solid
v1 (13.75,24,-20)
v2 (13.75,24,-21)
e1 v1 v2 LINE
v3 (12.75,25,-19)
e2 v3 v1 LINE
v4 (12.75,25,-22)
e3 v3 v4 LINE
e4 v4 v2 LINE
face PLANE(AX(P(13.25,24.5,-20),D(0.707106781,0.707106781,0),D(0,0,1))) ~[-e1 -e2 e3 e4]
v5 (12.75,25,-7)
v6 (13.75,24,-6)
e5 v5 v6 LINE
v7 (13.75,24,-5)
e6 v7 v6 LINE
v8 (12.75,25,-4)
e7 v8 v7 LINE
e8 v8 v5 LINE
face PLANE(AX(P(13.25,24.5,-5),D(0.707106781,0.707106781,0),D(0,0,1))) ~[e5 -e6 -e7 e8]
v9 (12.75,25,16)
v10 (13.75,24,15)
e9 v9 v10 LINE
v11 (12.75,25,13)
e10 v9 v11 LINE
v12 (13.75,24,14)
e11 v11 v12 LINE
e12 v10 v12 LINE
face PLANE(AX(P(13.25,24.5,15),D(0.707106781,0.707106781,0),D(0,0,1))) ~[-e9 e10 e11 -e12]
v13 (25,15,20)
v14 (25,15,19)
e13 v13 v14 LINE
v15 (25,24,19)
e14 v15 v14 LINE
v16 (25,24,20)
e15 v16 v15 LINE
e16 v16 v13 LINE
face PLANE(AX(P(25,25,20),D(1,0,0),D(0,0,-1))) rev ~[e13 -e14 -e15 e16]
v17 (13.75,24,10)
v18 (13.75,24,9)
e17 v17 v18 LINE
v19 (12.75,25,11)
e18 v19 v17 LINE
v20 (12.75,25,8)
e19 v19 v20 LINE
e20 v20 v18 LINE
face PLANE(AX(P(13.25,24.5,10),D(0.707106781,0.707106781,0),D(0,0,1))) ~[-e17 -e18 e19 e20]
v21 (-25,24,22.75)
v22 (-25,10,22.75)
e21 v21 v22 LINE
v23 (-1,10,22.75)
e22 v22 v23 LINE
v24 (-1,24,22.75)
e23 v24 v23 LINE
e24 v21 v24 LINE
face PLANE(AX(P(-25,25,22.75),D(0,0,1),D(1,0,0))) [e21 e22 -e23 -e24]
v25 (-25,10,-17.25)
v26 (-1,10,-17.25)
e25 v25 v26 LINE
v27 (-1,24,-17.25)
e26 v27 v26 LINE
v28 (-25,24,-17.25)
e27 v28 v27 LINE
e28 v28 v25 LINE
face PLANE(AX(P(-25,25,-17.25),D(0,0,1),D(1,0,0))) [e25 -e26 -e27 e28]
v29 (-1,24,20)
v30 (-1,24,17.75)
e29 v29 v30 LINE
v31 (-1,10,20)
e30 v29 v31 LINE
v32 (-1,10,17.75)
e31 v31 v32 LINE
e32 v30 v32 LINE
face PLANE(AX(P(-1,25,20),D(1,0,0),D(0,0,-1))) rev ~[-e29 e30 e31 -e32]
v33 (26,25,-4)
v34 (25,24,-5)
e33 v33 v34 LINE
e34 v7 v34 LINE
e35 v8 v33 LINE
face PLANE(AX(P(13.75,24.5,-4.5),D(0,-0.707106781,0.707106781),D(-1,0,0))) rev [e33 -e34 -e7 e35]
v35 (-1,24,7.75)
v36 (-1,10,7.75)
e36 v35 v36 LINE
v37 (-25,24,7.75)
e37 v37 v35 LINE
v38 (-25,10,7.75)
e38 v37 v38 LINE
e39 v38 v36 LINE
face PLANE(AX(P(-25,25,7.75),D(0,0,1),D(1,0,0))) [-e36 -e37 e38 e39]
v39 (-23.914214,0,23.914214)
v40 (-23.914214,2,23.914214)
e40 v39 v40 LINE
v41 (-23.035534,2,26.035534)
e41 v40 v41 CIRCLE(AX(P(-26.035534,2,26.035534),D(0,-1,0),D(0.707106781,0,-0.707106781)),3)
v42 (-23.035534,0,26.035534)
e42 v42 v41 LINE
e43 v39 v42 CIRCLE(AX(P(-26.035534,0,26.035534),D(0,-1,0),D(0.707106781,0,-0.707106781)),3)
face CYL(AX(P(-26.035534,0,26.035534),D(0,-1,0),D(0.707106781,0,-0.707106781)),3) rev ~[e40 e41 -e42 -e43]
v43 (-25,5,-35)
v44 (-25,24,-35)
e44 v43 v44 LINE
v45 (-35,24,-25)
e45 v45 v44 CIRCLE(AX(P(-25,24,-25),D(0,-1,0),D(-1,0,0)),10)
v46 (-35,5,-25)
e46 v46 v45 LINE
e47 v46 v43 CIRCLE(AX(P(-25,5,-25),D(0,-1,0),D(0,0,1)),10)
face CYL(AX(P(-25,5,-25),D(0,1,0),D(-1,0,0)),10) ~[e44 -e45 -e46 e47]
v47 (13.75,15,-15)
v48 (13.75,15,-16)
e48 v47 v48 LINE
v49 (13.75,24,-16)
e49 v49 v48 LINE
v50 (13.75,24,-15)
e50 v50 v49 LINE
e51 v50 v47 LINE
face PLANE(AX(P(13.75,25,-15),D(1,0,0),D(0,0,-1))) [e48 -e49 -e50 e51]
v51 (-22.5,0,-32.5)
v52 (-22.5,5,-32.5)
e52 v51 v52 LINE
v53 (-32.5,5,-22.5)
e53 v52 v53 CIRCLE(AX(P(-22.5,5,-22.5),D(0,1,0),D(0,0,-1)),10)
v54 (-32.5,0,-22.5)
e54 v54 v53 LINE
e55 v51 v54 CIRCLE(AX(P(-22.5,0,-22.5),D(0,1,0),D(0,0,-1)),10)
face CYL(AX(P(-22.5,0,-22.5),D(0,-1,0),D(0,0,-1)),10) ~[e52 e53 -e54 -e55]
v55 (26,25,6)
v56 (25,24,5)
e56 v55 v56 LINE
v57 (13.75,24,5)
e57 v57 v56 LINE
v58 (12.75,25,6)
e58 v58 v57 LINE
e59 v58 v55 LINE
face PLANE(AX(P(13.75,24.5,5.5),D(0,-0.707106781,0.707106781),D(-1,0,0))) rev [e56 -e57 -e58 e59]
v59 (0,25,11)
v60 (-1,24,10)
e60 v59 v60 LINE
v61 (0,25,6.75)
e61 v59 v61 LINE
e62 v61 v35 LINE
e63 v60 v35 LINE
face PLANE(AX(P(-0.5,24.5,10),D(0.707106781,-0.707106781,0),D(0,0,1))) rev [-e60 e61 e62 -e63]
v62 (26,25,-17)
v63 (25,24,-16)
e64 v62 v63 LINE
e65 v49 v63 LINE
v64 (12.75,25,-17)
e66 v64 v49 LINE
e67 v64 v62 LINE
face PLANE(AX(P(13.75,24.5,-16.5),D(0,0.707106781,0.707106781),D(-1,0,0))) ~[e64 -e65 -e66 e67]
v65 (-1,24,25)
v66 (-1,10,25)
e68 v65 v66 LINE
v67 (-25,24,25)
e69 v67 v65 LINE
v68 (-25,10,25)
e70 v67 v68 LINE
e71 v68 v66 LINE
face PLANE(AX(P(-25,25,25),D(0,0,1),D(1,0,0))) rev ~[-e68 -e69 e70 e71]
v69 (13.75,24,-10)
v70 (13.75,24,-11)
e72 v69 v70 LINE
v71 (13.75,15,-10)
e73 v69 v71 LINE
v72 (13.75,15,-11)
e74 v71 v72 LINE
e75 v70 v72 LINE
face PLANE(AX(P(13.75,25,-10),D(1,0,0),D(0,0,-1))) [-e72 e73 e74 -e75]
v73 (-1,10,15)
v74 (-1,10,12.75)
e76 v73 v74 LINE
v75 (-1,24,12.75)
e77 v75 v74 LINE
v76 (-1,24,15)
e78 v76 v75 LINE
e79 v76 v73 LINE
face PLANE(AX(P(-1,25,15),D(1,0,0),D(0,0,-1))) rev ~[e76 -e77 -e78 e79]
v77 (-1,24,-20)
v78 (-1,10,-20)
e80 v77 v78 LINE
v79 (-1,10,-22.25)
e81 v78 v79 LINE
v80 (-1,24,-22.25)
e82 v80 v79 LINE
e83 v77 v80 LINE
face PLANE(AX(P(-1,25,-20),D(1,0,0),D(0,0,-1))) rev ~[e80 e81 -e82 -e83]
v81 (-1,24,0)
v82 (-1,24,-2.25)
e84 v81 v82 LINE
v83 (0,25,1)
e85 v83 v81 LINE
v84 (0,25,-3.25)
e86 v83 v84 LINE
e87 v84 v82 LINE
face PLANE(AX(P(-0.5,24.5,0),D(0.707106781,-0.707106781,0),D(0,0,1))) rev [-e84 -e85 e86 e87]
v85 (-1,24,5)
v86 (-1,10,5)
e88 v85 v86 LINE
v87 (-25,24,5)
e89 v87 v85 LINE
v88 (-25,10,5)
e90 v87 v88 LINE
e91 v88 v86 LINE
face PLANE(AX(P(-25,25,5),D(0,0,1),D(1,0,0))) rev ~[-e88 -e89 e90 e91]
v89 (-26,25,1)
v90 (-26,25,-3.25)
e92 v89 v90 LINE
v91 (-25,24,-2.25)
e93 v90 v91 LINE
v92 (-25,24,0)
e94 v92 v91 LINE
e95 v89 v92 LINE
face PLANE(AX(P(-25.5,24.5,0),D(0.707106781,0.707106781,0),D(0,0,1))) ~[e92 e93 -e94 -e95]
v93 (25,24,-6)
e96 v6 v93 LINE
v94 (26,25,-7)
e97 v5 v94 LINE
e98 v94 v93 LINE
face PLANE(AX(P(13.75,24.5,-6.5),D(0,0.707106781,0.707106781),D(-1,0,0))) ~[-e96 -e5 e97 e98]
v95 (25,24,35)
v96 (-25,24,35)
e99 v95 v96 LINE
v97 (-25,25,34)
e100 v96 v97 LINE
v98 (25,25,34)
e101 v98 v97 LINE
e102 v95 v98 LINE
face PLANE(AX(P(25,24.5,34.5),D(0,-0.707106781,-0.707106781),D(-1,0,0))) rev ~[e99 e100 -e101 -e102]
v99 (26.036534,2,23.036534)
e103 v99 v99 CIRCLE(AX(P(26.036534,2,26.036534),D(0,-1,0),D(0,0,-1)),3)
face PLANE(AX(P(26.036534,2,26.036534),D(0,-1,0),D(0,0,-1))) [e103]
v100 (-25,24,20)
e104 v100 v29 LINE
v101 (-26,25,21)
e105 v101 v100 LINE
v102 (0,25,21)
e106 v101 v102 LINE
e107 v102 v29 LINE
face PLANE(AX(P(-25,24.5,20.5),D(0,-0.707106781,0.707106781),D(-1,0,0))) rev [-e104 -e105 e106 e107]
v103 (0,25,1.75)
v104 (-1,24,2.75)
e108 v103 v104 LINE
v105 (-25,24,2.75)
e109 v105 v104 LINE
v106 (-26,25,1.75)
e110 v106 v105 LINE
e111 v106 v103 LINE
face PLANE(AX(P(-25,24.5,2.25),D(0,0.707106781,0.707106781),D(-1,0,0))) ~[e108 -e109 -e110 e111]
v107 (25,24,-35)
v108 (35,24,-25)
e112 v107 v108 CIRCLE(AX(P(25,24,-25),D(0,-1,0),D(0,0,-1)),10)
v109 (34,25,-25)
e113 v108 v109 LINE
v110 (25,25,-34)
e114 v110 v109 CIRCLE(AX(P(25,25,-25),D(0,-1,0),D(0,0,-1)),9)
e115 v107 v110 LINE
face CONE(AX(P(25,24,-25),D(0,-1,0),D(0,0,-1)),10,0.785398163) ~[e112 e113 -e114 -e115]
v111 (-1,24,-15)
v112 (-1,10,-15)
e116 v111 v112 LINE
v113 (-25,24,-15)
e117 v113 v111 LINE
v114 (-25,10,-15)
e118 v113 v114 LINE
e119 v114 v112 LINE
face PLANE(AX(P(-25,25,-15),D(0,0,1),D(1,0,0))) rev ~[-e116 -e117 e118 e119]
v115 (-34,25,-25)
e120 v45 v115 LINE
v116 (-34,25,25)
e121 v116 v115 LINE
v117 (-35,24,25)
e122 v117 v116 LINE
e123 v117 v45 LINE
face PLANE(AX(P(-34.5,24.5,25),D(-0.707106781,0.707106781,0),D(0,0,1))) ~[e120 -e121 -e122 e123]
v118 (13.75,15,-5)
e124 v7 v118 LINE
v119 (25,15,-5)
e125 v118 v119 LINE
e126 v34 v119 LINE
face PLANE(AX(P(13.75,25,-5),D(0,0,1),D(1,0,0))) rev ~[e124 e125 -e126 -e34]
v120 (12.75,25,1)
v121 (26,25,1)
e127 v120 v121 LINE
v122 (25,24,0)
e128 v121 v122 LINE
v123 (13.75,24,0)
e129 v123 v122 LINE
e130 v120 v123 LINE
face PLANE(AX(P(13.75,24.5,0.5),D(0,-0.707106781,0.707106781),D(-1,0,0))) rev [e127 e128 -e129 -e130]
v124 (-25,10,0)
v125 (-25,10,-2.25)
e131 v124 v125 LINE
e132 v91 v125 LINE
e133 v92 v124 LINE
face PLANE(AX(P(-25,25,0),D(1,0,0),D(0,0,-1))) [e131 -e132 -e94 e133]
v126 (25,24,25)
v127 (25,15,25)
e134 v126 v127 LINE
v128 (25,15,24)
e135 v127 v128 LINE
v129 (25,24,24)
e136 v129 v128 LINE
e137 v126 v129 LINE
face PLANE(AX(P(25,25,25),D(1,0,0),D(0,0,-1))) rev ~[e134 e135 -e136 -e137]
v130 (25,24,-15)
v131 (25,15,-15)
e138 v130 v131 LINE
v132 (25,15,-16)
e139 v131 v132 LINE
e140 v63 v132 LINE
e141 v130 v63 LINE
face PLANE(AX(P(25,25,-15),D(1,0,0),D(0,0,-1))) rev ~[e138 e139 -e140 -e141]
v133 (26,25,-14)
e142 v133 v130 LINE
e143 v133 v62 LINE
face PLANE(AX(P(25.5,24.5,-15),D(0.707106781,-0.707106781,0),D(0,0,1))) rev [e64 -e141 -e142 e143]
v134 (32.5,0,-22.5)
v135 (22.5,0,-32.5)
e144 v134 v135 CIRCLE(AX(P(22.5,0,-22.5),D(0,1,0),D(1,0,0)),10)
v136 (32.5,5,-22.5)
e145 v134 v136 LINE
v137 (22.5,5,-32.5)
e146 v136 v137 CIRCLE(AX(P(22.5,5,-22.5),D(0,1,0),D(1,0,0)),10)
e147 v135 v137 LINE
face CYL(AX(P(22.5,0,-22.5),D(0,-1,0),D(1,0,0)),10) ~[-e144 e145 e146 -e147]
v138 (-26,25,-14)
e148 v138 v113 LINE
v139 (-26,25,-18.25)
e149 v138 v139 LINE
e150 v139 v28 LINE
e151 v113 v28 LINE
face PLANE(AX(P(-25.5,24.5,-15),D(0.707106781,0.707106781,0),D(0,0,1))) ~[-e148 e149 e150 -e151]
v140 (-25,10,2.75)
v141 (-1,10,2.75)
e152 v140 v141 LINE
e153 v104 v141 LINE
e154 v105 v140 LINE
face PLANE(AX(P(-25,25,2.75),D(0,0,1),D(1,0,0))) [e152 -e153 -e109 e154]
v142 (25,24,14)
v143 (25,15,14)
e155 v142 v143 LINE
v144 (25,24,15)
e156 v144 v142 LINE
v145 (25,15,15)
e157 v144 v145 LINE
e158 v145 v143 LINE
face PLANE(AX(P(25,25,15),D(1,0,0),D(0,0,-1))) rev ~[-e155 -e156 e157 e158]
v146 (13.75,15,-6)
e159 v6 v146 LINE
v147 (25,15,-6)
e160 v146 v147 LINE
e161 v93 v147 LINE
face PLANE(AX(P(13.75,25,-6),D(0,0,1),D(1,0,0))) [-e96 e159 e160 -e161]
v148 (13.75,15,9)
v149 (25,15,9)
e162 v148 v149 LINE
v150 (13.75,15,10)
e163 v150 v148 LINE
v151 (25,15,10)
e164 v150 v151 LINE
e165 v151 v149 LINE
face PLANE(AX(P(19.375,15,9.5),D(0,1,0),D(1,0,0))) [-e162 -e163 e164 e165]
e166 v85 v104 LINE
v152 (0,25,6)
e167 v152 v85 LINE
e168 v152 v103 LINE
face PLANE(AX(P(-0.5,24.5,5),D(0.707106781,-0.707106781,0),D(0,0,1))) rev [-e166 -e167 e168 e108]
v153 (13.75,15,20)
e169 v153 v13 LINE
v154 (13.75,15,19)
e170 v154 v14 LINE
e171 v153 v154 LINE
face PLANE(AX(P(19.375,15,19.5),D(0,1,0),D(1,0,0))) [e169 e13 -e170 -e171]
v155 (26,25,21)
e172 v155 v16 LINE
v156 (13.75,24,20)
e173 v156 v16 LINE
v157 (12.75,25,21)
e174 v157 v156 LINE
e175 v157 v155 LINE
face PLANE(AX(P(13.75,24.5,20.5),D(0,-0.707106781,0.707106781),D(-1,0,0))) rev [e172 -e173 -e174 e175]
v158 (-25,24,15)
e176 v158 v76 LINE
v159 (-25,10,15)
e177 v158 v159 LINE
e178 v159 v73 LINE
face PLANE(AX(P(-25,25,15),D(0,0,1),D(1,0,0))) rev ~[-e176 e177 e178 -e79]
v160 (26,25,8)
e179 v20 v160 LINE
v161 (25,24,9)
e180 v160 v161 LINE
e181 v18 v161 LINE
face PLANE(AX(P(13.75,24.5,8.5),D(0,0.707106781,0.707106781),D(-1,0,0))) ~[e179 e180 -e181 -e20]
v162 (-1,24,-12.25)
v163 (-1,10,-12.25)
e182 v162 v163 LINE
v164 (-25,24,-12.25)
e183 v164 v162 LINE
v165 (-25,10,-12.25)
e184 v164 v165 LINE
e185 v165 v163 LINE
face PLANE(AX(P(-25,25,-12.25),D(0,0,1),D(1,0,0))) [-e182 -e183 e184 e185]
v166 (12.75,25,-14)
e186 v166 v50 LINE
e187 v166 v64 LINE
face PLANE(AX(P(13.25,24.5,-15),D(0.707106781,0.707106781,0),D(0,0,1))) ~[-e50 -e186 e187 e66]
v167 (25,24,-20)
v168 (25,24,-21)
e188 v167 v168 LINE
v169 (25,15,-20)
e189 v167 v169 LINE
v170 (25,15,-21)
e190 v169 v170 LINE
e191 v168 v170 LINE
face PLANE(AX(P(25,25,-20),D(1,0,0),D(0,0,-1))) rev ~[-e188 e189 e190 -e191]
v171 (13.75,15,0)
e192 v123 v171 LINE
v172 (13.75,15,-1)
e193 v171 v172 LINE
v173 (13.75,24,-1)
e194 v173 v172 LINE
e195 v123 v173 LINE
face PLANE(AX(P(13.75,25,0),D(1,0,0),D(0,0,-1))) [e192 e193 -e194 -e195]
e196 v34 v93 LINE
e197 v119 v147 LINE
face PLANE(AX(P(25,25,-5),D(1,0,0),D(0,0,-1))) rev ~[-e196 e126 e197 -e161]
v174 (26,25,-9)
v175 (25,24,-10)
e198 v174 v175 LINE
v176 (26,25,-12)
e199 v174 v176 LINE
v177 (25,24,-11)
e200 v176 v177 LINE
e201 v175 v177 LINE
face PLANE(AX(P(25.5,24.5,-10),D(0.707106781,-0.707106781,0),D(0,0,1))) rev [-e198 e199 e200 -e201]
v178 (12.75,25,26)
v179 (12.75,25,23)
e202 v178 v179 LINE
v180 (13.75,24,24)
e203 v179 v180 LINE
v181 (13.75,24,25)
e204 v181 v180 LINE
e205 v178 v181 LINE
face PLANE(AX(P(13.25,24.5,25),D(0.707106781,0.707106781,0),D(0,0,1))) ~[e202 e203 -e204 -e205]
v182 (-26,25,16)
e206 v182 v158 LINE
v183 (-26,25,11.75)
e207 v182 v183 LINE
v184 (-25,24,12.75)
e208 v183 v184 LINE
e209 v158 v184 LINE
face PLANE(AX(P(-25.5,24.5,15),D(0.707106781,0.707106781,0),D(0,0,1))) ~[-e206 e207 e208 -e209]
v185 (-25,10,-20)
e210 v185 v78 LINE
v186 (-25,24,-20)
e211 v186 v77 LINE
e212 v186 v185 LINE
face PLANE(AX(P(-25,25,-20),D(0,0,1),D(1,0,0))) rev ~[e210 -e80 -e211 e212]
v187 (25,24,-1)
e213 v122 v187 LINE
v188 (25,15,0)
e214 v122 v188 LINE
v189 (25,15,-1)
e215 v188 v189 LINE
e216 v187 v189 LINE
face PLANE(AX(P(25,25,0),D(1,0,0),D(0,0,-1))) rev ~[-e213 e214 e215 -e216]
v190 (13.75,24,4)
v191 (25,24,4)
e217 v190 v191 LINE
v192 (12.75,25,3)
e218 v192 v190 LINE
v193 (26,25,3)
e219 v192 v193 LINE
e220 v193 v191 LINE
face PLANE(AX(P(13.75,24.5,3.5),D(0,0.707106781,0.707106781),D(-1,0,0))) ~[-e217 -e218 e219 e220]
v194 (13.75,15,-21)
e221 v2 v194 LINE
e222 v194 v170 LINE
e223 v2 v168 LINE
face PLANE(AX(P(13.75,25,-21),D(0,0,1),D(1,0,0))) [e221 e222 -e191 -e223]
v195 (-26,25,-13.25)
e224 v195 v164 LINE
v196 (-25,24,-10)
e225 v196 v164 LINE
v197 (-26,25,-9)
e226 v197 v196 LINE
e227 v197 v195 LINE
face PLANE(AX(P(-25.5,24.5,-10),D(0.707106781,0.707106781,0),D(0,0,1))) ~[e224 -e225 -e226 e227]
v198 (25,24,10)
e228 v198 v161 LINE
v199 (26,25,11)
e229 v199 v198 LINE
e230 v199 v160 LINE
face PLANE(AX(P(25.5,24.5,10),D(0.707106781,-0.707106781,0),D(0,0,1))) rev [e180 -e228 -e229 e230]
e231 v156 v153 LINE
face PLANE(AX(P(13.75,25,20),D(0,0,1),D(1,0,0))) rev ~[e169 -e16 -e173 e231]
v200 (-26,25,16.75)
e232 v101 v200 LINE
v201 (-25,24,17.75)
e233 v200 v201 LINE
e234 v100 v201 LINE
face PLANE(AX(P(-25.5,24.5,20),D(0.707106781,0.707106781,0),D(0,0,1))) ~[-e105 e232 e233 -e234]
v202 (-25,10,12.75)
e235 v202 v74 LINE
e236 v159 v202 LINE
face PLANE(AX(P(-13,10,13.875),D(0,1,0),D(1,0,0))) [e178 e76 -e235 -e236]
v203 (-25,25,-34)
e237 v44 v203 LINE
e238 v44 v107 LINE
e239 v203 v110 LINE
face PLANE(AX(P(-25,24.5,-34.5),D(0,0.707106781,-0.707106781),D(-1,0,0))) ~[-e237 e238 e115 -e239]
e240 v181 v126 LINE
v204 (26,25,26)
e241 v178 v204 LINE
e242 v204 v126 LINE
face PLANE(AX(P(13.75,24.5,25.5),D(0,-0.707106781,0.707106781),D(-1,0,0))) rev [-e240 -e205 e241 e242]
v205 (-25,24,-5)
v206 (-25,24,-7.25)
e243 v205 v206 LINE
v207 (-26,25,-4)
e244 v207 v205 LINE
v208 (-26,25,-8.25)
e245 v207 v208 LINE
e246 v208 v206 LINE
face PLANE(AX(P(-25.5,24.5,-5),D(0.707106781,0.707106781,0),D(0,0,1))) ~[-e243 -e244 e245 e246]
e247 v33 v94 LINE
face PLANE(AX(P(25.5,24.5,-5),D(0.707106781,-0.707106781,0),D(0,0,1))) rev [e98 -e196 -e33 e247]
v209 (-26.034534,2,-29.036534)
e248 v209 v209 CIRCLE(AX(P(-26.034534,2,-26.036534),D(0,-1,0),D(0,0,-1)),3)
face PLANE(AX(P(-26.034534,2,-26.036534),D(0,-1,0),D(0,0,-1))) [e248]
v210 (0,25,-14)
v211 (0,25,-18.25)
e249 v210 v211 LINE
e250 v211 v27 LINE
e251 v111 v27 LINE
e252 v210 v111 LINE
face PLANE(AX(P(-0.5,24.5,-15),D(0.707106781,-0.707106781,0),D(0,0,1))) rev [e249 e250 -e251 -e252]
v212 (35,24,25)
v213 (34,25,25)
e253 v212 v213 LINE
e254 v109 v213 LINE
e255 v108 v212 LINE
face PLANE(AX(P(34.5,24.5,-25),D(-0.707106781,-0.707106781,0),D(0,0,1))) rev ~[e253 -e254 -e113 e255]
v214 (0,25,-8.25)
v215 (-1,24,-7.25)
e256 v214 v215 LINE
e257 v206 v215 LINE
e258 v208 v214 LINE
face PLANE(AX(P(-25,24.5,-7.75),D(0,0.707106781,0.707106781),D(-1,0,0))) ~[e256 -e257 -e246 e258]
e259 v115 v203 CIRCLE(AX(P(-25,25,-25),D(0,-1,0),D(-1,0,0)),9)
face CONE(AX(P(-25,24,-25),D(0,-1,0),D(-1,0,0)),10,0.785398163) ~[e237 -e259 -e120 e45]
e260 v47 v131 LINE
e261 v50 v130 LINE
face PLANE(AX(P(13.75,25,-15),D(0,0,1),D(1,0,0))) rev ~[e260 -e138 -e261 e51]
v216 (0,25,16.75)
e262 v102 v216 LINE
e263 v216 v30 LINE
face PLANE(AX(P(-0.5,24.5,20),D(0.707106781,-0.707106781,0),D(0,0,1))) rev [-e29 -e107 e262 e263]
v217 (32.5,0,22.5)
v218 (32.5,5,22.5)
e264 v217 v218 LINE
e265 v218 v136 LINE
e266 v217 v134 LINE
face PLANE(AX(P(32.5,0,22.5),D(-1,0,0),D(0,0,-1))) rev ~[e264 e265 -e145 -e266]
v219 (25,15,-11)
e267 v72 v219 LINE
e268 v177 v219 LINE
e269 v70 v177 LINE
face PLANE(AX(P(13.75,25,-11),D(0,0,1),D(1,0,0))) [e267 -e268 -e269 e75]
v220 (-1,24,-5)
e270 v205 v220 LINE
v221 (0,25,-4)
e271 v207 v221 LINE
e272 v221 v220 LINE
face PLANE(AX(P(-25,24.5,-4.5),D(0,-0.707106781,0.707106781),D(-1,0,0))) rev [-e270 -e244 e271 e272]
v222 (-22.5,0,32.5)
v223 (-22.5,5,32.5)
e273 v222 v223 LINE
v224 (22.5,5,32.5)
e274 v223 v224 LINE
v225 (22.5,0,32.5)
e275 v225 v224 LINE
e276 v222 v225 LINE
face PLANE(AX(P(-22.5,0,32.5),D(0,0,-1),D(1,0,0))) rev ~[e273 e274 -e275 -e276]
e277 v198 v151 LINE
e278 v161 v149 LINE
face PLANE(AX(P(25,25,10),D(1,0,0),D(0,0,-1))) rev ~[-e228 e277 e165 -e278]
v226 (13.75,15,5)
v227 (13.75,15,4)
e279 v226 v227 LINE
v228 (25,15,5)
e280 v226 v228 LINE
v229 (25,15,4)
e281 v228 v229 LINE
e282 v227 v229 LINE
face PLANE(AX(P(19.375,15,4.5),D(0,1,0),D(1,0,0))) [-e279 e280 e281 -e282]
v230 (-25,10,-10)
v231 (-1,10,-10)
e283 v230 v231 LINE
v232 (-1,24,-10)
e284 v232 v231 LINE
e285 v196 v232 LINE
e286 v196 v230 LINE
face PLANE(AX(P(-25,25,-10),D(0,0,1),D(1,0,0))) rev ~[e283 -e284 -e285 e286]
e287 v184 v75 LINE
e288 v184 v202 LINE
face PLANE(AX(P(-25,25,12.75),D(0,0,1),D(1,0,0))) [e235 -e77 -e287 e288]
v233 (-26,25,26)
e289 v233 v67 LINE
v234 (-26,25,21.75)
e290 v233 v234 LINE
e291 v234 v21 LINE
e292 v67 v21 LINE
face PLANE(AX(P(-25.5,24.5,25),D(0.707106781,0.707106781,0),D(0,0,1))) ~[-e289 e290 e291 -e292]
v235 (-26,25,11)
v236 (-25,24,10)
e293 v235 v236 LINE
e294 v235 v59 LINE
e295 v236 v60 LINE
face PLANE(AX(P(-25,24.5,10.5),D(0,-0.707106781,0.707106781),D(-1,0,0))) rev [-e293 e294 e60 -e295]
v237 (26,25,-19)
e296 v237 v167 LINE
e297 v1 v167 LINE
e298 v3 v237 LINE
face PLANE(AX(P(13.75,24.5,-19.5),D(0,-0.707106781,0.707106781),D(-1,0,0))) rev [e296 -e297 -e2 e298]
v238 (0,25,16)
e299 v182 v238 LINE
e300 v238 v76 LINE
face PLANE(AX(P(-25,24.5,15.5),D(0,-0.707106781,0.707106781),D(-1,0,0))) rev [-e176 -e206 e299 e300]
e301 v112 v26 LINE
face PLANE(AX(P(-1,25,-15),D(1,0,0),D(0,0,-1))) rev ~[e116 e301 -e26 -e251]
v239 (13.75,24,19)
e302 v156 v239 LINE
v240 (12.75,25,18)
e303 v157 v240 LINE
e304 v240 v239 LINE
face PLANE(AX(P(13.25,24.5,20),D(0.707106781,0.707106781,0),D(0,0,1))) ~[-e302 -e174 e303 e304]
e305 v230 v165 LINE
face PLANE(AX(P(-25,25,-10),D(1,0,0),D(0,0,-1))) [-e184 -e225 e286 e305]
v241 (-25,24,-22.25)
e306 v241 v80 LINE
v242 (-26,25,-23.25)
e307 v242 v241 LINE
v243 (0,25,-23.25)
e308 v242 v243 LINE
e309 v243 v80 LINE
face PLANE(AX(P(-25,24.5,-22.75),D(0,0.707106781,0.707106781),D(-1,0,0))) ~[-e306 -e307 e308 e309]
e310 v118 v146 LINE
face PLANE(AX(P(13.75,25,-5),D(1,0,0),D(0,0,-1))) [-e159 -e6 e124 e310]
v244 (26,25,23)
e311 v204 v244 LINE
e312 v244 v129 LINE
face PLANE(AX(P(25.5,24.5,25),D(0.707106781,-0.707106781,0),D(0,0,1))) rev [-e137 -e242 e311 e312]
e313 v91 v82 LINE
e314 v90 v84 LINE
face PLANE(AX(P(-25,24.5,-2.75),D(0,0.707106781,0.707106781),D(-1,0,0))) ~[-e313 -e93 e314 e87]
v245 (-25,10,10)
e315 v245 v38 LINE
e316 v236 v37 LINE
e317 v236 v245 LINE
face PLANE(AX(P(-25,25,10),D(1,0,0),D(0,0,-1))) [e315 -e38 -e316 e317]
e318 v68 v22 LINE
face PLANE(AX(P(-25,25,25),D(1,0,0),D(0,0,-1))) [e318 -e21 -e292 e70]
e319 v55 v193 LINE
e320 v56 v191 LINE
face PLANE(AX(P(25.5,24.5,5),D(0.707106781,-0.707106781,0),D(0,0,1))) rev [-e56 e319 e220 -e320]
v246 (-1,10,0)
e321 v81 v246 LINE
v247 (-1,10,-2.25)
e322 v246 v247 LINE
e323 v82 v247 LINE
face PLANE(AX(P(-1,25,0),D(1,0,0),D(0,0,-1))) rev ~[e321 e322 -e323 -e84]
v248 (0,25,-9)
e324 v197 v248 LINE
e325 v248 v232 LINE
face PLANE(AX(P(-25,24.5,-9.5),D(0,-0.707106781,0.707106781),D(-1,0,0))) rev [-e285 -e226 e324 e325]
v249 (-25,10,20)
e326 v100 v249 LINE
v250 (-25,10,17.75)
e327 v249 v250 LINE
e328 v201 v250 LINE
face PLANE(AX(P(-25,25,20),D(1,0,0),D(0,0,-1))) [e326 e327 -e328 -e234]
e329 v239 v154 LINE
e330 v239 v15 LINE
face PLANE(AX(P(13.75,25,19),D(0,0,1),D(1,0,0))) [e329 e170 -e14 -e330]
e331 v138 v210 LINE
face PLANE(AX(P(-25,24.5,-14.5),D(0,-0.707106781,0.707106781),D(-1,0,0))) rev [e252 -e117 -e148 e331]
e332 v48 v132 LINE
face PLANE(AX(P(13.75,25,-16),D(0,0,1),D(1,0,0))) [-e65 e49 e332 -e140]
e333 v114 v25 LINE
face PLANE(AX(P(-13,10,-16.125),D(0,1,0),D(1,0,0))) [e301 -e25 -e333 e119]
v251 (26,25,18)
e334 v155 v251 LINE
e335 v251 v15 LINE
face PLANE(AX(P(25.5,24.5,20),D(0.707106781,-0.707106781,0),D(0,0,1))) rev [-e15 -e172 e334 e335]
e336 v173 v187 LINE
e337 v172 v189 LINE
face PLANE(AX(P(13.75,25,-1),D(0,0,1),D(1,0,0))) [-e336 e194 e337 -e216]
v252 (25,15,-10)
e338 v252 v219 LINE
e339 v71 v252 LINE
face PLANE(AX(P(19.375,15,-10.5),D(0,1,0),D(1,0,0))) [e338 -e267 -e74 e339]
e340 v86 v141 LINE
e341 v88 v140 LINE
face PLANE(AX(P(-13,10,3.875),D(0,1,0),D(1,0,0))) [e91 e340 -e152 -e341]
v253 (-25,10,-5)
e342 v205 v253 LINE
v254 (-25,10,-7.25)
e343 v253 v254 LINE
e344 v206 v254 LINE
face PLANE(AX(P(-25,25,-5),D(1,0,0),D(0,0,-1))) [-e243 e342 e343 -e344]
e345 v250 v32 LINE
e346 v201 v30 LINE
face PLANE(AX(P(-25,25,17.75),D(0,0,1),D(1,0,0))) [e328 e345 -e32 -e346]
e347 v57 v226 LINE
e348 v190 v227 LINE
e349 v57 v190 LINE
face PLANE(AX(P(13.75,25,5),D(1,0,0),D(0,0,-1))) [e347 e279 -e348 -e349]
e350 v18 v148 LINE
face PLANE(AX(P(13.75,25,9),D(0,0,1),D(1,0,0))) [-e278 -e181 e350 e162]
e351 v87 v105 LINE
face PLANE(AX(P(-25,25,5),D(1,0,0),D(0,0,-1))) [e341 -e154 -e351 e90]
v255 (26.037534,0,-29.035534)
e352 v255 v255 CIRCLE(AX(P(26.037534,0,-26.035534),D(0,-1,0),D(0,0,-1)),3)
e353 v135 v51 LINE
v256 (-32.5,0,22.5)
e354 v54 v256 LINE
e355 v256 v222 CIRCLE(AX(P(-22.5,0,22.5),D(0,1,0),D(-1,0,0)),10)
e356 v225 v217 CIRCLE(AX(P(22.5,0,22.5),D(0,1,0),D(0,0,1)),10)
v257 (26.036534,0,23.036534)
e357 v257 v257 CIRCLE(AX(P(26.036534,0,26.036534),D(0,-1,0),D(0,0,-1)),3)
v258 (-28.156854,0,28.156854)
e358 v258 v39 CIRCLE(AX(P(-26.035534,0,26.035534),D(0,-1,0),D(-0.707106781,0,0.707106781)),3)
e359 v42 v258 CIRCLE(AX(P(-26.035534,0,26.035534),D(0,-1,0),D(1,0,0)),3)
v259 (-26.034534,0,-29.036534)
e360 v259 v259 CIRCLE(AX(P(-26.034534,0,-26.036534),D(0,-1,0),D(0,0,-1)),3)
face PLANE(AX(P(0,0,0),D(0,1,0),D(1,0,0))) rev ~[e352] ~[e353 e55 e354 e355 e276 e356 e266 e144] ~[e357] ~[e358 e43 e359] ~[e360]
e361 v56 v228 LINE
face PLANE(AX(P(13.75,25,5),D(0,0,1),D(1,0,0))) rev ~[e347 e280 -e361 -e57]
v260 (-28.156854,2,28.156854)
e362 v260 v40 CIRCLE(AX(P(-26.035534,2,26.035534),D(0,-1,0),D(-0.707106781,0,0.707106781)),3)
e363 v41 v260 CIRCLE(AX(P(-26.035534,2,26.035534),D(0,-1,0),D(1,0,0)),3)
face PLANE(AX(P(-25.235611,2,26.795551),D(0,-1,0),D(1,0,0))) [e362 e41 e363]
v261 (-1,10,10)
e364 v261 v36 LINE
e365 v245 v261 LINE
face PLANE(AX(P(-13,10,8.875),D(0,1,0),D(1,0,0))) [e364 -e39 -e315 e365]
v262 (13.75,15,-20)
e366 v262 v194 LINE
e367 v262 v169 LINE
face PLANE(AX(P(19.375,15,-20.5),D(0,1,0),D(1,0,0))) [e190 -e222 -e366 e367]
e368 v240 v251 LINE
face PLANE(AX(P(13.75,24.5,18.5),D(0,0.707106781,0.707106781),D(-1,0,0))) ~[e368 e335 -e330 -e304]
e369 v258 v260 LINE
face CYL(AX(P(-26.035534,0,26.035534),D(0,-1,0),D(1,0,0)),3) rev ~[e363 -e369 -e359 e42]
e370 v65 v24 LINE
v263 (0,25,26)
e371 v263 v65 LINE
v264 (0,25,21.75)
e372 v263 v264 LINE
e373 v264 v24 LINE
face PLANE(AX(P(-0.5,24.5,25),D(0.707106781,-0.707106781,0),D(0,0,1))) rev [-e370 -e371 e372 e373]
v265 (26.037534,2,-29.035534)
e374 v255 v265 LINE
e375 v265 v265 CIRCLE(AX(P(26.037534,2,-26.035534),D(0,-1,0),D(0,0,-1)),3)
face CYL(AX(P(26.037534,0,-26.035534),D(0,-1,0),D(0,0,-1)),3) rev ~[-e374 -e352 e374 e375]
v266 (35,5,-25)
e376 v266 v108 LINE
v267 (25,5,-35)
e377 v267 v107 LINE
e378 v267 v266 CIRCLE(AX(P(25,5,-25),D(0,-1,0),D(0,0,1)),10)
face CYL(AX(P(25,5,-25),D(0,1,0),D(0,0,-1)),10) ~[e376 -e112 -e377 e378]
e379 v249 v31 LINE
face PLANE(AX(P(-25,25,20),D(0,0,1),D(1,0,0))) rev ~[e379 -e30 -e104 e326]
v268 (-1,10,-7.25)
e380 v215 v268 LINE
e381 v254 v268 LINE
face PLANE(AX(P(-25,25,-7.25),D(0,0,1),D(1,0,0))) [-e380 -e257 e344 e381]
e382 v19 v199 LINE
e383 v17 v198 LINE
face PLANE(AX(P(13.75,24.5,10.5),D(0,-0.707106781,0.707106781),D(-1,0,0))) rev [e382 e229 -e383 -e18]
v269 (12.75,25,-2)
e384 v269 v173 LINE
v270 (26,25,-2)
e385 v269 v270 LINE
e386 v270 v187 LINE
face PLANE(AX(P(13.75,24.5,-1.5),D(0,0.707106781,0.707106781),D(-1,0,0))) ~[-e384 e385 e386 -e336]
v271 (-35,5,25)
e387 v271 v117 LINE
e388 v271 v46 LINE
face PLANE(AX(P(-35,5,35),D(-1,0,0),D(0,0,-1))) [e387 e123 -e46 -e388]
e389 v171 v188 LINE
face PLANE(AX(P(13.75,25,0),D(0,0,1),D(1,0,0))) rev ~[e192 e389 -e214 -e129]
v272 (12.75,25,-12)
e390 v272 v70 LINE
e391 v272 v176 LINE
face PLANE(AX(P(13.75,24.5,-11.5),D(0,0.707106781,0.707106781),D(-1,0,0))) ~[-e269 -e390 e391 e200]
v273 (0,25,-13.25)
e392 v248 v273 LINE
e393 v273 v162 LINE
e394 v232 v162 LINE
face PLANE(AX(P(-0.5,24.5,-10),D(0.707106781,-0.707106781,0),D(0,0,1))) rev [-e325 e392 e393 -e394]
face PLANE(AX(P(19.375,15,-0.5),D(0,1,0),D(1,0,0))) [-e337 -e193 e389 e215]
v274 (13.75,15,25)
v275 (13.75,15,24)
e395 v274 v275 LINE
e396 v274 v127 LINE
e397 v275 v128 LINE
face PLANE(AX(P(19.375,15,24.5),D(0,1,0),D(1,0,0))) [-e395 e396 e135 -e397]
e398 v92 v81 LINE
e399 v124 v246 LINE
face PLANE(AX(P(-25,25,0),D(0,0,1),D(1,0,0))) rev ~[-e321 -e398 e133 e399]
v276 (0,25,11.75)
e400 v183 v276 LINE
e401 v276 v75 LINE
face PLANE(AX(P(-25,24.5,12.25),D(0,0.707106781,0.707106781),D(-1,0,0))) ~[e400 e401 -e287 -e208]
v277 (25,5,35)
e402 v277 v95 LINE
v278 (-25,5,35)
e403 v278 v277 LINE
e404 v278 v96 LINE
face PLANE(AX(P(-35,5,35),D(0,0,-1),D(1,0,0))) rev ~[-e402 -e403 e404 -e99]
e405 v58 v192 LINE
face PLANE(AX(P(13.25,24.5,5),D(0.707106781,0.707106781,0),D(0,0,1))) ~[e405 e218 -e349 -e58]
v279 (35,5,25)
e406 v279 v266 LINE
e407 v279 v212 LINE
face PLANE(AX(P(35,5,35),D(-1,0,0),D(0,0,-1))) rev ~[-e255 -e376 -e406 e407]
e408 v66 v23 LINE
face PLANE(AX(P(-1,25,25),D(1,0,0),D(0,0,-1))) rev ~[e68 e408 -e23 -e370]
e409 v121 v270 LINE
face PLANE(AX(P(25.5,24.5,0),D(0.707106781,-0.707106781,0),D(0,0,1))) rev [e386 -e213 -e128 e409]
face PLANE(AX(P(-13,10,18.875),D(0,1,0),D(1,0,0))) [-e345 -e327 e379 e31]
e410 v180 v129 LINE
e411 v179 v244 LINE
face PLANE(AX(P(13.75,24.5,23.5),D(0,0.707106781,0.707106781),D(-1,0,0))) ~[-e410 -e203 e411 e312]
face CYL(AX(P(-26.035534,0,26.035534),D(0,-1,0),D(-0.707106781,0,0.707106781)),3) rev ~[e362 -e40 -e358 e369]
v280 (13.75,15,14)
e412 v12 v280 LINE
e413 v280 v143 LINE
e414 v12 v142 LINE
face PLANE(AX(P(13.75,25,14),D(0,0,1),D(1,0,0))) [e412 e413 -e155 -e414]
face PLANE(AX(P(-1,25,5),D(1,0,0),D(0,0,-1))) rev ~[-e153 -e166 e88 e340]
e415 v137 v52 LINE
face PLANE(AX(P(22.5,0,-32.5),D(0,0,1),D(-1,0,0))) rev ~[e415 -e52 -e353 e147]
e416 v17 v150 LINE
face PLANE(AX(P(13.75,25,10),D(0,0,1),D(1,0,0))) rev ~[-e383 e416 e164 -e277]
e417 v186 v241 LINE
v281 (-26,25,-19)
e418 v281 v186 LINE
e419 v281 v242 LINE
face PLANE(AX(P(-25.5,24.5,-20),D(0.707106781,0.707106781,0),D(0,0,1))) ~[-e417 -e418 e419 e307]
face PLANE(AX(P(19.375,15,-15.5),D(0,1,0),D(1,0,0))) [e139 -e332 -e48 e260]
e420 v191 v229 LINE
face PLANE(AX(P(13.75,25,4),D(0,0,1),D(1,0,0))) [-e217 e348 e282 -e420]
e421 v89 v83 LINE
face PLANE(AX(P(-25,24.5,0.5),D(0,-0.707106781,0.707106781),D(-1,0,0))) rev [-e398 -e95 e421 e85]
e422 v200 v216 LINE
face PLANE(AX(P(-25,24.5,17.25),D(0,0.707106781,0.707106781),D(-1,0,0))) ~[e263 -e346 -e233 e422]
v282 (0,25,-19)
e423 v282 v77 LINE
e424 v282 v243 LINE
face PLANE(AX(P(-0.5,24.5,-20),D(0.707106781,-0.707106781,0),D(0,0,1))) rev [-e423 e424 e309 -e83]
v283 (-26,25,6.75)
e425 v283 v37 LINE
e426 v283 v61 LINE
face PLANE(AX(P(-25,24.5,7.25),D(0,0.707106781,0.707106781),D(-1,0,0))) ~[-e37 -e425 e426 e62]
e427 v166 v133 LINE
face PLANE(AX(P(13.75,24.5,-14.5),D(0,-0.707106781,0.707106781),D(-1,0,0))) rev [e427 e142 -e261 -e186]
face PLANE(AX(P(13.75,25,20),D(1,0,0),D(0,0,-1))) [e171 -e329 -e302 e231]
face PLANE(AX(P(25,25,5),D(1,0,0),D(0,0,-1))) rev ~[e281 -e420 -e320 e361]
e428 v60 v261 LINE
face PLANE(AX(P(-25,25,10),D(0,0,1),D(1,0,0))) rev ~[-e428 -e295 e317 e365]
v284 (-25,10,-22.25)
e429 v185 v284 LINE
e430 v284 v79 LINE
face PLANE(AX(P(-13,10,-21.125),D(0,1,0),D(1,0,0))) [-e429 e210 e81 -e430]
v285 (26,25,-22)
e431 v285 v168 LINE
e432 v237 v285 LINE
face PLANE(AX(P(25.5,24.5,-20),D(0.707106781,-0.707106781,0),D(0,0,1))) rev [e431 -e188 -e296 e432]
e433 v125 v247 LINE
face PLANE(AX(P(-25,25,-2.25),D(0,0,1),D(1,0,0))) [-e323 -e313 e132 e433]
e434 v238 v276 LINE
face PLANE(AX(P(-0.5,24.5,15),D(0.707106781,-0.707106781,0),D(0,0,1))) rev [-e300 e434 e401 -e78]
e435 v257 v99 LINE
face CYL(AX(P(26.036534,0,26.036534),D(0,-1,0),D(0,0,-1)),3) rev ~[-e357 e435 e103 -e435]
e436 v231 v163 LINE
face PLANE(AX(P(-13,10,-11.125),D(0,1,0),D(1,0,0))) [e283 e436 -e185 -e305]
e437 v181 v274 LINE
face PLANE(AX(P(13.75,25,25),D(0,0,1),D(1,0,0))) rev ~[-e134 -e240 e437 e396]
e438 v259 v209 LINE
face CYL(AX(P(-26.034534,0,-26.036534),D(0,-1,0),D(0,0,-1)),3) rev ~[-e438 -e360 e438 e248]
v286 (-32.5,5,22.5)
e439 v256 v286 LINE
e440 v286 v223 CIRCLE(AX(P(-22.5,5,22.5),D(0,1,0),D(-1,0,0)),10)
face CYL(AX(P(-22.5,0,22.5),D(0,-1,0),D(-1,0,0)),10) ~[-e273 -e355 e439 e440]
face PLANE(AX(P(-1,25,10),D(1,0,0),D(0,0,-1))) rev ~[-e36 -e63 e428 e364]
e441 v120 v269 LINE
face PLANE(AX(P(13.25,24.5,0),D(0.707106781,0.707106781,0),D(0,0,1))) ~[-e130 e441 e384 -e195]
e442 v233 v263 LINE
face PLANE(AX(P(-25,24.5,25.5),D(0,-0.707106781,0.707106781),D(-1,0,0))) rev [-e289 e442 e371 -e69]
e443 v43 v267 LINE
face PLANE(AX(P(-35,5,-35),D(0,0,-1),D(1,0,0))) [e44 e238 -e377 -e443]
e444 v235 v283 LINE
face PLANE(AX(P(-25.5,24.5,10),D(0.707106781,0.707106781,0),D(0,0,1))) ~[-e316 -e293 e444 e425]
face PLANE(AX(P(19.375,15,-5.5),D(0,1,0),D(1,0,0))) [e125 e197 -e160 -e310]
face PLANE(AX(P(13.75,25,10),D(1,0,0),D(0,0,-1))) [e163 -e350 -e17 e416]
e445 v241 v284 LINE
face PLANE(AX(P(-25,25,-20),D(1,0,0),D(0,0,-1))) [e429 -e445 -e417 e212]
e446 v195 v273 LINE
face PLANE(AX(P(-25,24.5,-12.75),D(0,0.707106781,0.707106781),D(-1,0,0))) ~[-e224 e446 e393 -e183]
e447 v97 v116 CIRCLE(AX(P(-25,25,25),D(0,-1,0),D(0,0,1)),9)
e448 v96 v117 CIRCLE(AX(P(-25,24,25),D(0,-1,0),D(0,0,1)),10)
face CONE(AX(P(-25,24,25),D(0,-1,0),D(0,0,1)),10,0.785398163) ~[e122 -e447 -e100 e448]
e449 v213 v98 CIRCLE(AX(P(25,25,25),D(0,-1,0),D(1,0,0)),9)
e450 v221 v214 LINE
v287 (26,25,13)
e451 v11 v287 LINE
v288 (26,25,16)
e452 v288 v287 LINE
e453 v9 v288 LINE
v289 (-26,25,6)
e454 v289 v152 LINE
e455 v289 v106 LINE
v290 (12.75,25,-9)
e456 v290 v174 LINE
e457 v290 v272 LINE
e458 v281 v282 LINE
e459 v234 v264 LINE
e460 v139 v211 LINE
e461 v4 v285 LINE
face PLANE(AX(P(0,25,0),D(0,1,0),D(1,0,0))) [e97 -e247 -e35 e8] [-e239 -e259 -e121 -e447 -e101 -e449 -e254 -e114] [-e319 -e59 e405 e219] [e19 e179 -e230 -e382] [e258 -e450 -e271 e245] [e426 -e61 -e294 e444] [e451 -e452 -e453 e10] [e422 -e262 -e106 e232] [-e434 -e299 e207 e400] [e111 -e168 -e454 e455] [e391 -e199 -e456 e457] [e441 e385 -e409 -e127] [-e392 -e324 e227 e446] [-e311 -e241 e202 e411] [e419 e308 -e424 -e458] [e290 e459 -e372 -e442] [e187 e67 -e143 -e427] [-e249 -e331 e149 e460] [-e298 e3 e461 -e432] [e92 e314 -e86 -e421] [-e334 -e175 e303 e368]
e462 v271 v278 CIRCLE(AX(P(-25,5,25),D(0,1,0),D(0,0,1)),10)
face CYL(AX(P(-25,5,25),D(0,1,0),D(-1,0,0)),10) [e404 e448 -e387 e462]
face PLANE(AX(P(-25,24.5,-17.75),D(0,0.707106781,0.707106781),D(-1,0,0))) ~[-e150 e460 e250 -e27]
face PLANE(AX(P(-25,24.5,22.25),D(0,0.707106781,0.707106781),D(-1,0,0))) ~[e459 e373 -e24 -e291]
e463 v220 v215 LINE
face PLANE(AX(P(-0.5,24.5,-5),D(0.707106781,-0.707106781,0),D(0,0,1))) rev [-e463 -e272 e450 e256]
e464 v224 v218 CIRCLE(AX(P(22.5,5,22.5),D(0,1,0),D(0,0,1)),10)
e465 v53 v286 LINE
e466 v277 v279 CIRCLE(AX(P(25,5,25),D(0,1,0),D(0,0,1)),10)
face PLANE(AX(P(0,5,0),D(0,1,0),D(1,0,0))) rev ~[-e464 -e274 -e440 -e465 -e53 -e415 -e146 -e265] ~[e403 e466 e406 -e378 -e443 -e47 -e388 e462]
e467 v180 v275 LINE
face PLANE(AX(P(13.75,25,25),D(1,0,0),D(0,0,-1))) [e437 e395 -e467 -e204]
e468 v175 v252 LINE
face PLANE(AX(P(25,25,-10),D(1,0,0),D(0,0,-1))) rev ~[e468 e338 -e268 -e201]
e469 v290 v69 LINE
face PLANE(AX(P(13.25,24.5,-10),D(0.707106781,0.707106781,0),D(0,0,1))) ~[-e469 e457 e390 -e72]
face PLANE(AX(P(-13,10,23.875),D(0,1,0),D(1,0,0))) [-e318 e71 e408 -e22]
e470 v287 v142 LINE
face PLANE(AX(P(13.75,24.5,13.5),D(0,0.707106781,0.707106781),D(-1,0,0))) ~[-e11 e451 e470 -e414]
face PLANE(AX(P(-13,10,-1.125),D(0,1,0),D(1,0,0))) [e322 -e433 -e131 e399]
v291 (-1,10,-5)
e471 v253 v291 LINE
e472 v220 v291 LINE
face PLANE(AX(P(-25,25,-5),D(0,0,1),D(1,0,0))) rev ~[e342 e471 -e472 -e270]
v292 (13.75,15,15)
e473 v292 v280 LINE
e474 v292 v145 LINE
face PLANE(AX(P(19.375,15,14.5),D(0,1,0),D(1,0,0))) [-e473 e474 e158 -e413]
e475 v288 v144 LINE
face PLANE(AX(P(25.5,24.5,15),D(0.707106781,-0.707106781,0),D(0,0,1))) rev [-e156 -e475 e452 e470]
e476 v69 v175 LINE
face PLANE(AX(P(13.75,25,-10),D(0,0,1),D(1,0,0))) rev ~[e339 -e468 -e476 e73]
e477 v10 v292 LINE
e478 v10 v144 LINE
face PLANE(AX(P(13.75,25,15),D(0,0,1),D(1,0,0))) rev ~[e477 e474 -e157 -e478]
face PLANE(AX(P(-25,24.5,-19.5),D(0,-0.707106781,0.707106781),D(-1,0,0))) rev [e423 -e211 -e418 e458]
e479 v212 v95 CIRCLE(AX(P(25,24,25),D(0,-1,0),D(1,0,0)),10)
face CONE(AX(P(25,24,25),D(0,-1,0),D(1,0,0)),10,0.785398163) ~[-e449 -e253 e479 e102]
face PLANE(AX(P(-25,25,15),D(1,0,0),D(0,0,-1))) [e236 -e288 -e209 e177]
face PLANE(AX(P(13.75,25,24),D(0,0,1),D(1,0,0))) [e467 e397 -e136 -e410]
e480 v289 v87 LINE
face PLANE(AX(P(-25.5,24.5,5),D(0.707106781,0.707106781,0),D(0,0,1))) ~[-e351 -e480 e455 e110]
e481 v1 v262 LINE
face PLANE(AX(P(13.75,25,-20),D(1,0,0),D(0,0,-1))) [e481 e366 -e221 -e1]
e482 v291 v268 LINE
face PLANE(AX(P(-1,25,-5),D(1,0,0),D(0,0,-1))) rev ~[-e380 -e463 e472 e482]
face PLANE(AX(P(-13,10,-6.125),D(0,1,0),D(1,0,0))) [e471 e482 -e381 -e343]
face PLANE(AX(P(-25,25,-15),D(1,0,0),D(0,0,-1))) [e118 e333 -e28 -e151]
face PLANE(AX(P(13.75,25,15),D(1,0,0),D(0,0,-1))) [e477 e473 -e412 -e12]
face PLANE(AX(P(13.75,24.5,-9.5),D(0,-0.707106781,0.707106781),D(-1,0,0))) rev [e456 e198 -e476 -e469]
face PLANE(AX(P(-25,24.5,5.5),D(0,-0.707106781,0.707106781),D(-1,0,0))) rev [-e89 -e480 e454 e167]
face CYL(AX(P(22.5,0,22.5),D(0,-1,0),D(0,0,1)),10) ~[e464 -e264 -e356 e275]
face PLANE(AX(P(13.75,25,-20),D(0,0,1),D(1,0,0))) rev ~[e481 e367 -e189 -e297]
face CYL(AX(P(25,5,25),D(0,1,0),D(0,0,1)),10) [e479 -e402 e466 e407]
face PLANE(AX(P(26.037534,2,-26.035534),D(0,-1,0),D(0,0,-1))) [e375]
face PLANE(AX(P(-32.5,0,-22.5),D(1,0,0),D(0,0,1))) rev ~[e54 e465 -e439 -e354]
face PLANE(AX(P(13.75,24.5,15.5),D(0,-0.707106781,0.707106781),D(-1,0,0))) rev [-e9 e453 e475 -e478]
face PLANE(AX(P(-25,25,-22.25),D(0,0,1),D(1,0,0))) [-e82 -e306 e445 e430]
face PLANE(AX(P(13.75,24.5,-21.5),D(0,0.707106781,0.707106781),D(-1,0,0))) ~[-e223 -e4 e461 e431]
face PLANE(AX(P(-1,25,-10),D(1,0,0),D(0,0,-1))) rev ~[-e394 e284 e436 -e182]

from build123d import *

# Parameters (mm, degrees)
BOSS_EXTRUDE4_DEPTH = 5
SKETCH6_W           = 70
SKETCH6_H           = 70
BOSS_EXTRUDE5_DEPTH = 20
SKETCH8_R           = 3
CUT_EXTRUDE1_DEPTH  = 2
FILLET1_R           = 10
SKETCH9_W           = 24
SKETCH9_H           = 2.25
CUT_EXTRUDE2_DEPTH  = 15
SKETCH10_W          = 11.25
SKETCH10_H          = 1
CUT_EXTRUDE3_DEPTH  = 10
CHAMFER1_SIZE       = 1


with BuildPart() as part:
    # Sketch5 → Boss-Extrude4 (new body)
    with BuildSketch(Plane(origin=(0, 0, 0), x_dir=(1, 0, 0), z_dir=(0, 1, 0))):
        with BuildLine():
            Line((-22.5, -32.5), (22.5, -32.5))
            ThreePointArc((22.5, -32.5), (29.571067812, -29.571067812), (32.5, -22.5))
            Line((32.5, -22.5), (32.5, 22.5))
            ThreePointArc((32.5, 22.5), (29.571067812, 29.571067812), (22.5, 32.5))
            Line((22.5, 32.5), (-22.5, 32.5))
            ThreePointArc((-22.5, 32.5), (-29.571067812, 29.571067812), (-32.5, 22.5))
            Line((-32.5, 22.5), (-32.5, -22.5))
            ThreePointArc((-32.5, -22.5), (-29.571067812, -29.571067812), (-22.5, -32.5))
        make_face()
    extrude(amount=BOSS_EXTRUDE4_DEPTH)

    # Sketch6 → Boss-Extrude5 (add)
    with BuildSketch(Plane(origin=(0, 5, 0), x_dir=(1, 0, 0), z_dir=(0, 1, 0))):
        Rectangle(SKETCH6_W, SKETCH6_H)
    extrude(amount=BOSS_EXTRUDE5_DEPTH)

    # Sketch8 → Cut-Extrude1 (cut)
    with BuildSketch(Plane.XZ):
        with Locations(Location((26.037533906, -26.035533906, 0), (0, 0, 270))):
            Circle(SKETCH8_R)
        with Locations(Location((26.036533906, 26.036533906, 0), (0, 0, 270))):
            Circle(SKETCH8_R)
        with BuildLine():
            ThreePointArc((-23.035533906, 26.035533906), (-24.887483609, 28.807172503), (-28.156854249, 28.156854249))
            Line((-28.156854249, 28.156854249), (-23.914213562, 23.914213562))
            ThreePointArc((-23.914213562, 23.914213562), (-23.263895308, 24.887483609), (-23.035533906, 26.035533906))
        make_face()
        with BuildLine():
            Line((-23.914213562, 23.914213562), (-28.156854249, 28.156854249))
            ThreePointArc((-28.156854249, 28.156854249), (-28.156854249, 23.914213562), (-23.914213562, 23.914213562))
        make_face()
        with Locations(Location((-26.034533906, -26.036533906, 0), (0, 0, 270))):
            Circle(SKETCH8_R)
    extrude(amount=-CUT_EXTRUDE1_DEPTH, mode=Mode.SUBTRACT)

    # Fillet1
    fillet1_edges = [part.edges().sort_by_distance(p)[0] for p in [
        (-35, 15, -35),
        (-35, 15, 35),
        (35, 15, 35),
        (35, 15, -35),
    ]]
    fillet(fillet1_edges, radius=FILLET1_R)

    # Sketch9 → Cut-Extrude2 (cut)
    with BuildSketch(Plane(origin=(0, 25, 0), x_dir=(1, 0, 0), z_dir=(0, 1, 0))):
        with Locations((-13, -23.875)):
            Rectangle(SKETCH9_W, SKETCH9_H)
        with Locations((-13, -18.875)):
            Rectangle(SKETCH9_W, SKETCH9_H)
        with Locations((-13, -13.875)):
            Rectangle(SKETCH9_W, SKETCH9_H)
        with Locations((-13, -3.875)):
            Rectangle(SKETCH9_W, SKETCH9_H)
        with Locations((-13, 1.125)):
            Rectangle(SKETCH9_W, SKETCH9_H)
        with Locations((-13, 6.125)):
            Rectangle(SKETCH9_W, SKETCH9_H)
        with Locations((-13, 11.125)):
            Rectangle(SKETCH9_W, SKETCH9_H)
        with Locations((-13, 16.125)):
            Rectangle(SKETCH9_W, SKETCH9_H)
        with Locations((-13, 21.125)):
            Rectangle(SKETCH9_W, SKETCH9_H)
        with Locations((-13, -8.875)):
            Rectangle(SKETCH9_W, SKETCH9_H)
    extrude(amount=-CUT_EXTRUDE2_DEPTH, mode=Mode.SUBTRACT)

    # Sketch10 → Cut-Extrude3 (cut)
    with BuildSketch(Plane(origin=(0, 25, 0), x_dir=(1, 0, 0), z_dir=(0, 1, 0))):
        with Locations((19.375, -24.5)):
            Rectangle(SKETCH10_W, SKETCH10_H)
        with Locations((19.375, -19.5)):
            Rectangle(SKETCH10_W, SKETCH10_H)
        with Locations((19.375, -14.5)):
            Rectangle(SKETCH10_W, SKETCH10_H)
        with Locations((19.375, -9.5)):
            Rectangle(SKETCH10_W, SKETCH10_H)
        with Locations((19.375, 0.5)):
            Rectangle(SKETCH10_W, SKETCH10_H)
        with Locations((19.375, 5.5)):
            Rectangle(SKETCH10_W, SKETCH10_H)
        with Locations((19.375, 10.5)):
            Rectangle(SKETCH10_W, SKETCH10_H)
        with Locations((19.375, 15.5)):
            Rectangle(SKETCH10_W, SKETCH10_H)
        with Locations((19.375, 20.5)):
            Rectangle(SKETCH10_W, SKETCH10_H)
        with Locations((19.375, -4.5)):
            Rectangle(SKETCH10_W, SKETCH10_H)
    extrude(amount=-CUT_EXTRUDE3_DEPTH, mode=Mode.SUBTRACT)

    # Chamfer1
    chamfer1_edges = [part.edges().sort_by_distance(p)[0] for p in [
        (-25, 25, 23.875),
        (-13, 25, 22.75),
        (-13, 25, 25),
        (-1, 25, 23.875),
        (-25, 25, 8.875),
        (-13, 25, 7.75),
        (-13, 25, 10),
        (-1, 25, 8.875),
        (-13, 25, -22.25),
        (-25, 25, -21.125),
        (-13, 25, -20),
        (-1, 25, -21.125),
        (-13, 25, -17.25),
        (-25, 25, -16.125),
        (-13, 25, -15),
        (-1, 25, -16.125),
        (-13, 25, -12.25),
        (-25, 25, -11.125),
        (-13, 25, -10),
        (-1, 25, -11.125),
        (-13, 25, -7.25),
        (-25, 25, -6.125),
        (-13, 25, -5),
        (-1, 25, -6.125),
        (-13, 25, -2.25),
        (-25, 25, -1.125),
        (-13, 25, 0),
        (-1, 25, -1.125),
        (-13, 25, 2.75),
        (-25, 25, 3.875),
        (-13, 25, 5),
        (-1, 25, 3.875),
        (-13, 25, 12.75),
        (-25, 25, 13.875),
        (-13, 25, 15),
        (-1, 25, 13.875),
        (-13, 25, 17.75),
        (-25, 25, 18.875),
        (-13, 25, 20),
        (-1, 25, 18.875),
        (13.75, 25, 24.5),
        (25, 25, 24.5),
        (19.375, 25, 25),
        (19.375, 25, 24),
        (19.375, 25, 5),
        (13.75, 25, 4.5),
        (25, 25, 4.5),
        (19.375, 25, 4),
        (25, 25, -20.5),
        (19.375, 25, -20),
        (13.75, 25, -20.5),
        (19.375, 25, -21),
        (25, 25, -15.5),
        (19.375, 25, -15),
        (13.75, 25, -15.5),
        (19.375, 25, -16),
        (25, 25, -10.5),
        (19.375, 25, -10),
        (13.75, 25, -10.5),
        (19.375, 25, -11),
        (25, 25, -5.5),
        (19.375, 25, -5),
        (13.75, 25, -5.5),
        (19.375, 25, -6),
        (25, 25, -0.5),
        (19.375, 25, 0),
        (13.75, 25, -0.5),
        (19.375, 25, -1),
        (25, 25, 9.5),
        (19.375, 25, 10),
        (13.75, 25, 9.5),
        (19.375, 25, 9),
        (25, 25, 14.5),
        (19.375, 25, 15),
        (13.75, 25, 14.5),
        (19.375, 25, 14),
        (19.375, 25, 20),
        (13.75, 25, 19.5),
        (25, 25, 19.5),
        (19.375, 25, 19),
        (-35, 25, 0),
        (0, 25, -35),
        (0, 25, 35),
        (35, 25, 0),
        (32.071067812, 25, -32.071067812),
        (32.071067812, 25, 32.071067812),
        (-32.071067812, 25, 32.071067812),
        (-32.071067812, 25, -32.071067812),
    ]]
    chamfer(chamfer1_edges, length=CHAMFER1_SIZE)


solid = part.part
